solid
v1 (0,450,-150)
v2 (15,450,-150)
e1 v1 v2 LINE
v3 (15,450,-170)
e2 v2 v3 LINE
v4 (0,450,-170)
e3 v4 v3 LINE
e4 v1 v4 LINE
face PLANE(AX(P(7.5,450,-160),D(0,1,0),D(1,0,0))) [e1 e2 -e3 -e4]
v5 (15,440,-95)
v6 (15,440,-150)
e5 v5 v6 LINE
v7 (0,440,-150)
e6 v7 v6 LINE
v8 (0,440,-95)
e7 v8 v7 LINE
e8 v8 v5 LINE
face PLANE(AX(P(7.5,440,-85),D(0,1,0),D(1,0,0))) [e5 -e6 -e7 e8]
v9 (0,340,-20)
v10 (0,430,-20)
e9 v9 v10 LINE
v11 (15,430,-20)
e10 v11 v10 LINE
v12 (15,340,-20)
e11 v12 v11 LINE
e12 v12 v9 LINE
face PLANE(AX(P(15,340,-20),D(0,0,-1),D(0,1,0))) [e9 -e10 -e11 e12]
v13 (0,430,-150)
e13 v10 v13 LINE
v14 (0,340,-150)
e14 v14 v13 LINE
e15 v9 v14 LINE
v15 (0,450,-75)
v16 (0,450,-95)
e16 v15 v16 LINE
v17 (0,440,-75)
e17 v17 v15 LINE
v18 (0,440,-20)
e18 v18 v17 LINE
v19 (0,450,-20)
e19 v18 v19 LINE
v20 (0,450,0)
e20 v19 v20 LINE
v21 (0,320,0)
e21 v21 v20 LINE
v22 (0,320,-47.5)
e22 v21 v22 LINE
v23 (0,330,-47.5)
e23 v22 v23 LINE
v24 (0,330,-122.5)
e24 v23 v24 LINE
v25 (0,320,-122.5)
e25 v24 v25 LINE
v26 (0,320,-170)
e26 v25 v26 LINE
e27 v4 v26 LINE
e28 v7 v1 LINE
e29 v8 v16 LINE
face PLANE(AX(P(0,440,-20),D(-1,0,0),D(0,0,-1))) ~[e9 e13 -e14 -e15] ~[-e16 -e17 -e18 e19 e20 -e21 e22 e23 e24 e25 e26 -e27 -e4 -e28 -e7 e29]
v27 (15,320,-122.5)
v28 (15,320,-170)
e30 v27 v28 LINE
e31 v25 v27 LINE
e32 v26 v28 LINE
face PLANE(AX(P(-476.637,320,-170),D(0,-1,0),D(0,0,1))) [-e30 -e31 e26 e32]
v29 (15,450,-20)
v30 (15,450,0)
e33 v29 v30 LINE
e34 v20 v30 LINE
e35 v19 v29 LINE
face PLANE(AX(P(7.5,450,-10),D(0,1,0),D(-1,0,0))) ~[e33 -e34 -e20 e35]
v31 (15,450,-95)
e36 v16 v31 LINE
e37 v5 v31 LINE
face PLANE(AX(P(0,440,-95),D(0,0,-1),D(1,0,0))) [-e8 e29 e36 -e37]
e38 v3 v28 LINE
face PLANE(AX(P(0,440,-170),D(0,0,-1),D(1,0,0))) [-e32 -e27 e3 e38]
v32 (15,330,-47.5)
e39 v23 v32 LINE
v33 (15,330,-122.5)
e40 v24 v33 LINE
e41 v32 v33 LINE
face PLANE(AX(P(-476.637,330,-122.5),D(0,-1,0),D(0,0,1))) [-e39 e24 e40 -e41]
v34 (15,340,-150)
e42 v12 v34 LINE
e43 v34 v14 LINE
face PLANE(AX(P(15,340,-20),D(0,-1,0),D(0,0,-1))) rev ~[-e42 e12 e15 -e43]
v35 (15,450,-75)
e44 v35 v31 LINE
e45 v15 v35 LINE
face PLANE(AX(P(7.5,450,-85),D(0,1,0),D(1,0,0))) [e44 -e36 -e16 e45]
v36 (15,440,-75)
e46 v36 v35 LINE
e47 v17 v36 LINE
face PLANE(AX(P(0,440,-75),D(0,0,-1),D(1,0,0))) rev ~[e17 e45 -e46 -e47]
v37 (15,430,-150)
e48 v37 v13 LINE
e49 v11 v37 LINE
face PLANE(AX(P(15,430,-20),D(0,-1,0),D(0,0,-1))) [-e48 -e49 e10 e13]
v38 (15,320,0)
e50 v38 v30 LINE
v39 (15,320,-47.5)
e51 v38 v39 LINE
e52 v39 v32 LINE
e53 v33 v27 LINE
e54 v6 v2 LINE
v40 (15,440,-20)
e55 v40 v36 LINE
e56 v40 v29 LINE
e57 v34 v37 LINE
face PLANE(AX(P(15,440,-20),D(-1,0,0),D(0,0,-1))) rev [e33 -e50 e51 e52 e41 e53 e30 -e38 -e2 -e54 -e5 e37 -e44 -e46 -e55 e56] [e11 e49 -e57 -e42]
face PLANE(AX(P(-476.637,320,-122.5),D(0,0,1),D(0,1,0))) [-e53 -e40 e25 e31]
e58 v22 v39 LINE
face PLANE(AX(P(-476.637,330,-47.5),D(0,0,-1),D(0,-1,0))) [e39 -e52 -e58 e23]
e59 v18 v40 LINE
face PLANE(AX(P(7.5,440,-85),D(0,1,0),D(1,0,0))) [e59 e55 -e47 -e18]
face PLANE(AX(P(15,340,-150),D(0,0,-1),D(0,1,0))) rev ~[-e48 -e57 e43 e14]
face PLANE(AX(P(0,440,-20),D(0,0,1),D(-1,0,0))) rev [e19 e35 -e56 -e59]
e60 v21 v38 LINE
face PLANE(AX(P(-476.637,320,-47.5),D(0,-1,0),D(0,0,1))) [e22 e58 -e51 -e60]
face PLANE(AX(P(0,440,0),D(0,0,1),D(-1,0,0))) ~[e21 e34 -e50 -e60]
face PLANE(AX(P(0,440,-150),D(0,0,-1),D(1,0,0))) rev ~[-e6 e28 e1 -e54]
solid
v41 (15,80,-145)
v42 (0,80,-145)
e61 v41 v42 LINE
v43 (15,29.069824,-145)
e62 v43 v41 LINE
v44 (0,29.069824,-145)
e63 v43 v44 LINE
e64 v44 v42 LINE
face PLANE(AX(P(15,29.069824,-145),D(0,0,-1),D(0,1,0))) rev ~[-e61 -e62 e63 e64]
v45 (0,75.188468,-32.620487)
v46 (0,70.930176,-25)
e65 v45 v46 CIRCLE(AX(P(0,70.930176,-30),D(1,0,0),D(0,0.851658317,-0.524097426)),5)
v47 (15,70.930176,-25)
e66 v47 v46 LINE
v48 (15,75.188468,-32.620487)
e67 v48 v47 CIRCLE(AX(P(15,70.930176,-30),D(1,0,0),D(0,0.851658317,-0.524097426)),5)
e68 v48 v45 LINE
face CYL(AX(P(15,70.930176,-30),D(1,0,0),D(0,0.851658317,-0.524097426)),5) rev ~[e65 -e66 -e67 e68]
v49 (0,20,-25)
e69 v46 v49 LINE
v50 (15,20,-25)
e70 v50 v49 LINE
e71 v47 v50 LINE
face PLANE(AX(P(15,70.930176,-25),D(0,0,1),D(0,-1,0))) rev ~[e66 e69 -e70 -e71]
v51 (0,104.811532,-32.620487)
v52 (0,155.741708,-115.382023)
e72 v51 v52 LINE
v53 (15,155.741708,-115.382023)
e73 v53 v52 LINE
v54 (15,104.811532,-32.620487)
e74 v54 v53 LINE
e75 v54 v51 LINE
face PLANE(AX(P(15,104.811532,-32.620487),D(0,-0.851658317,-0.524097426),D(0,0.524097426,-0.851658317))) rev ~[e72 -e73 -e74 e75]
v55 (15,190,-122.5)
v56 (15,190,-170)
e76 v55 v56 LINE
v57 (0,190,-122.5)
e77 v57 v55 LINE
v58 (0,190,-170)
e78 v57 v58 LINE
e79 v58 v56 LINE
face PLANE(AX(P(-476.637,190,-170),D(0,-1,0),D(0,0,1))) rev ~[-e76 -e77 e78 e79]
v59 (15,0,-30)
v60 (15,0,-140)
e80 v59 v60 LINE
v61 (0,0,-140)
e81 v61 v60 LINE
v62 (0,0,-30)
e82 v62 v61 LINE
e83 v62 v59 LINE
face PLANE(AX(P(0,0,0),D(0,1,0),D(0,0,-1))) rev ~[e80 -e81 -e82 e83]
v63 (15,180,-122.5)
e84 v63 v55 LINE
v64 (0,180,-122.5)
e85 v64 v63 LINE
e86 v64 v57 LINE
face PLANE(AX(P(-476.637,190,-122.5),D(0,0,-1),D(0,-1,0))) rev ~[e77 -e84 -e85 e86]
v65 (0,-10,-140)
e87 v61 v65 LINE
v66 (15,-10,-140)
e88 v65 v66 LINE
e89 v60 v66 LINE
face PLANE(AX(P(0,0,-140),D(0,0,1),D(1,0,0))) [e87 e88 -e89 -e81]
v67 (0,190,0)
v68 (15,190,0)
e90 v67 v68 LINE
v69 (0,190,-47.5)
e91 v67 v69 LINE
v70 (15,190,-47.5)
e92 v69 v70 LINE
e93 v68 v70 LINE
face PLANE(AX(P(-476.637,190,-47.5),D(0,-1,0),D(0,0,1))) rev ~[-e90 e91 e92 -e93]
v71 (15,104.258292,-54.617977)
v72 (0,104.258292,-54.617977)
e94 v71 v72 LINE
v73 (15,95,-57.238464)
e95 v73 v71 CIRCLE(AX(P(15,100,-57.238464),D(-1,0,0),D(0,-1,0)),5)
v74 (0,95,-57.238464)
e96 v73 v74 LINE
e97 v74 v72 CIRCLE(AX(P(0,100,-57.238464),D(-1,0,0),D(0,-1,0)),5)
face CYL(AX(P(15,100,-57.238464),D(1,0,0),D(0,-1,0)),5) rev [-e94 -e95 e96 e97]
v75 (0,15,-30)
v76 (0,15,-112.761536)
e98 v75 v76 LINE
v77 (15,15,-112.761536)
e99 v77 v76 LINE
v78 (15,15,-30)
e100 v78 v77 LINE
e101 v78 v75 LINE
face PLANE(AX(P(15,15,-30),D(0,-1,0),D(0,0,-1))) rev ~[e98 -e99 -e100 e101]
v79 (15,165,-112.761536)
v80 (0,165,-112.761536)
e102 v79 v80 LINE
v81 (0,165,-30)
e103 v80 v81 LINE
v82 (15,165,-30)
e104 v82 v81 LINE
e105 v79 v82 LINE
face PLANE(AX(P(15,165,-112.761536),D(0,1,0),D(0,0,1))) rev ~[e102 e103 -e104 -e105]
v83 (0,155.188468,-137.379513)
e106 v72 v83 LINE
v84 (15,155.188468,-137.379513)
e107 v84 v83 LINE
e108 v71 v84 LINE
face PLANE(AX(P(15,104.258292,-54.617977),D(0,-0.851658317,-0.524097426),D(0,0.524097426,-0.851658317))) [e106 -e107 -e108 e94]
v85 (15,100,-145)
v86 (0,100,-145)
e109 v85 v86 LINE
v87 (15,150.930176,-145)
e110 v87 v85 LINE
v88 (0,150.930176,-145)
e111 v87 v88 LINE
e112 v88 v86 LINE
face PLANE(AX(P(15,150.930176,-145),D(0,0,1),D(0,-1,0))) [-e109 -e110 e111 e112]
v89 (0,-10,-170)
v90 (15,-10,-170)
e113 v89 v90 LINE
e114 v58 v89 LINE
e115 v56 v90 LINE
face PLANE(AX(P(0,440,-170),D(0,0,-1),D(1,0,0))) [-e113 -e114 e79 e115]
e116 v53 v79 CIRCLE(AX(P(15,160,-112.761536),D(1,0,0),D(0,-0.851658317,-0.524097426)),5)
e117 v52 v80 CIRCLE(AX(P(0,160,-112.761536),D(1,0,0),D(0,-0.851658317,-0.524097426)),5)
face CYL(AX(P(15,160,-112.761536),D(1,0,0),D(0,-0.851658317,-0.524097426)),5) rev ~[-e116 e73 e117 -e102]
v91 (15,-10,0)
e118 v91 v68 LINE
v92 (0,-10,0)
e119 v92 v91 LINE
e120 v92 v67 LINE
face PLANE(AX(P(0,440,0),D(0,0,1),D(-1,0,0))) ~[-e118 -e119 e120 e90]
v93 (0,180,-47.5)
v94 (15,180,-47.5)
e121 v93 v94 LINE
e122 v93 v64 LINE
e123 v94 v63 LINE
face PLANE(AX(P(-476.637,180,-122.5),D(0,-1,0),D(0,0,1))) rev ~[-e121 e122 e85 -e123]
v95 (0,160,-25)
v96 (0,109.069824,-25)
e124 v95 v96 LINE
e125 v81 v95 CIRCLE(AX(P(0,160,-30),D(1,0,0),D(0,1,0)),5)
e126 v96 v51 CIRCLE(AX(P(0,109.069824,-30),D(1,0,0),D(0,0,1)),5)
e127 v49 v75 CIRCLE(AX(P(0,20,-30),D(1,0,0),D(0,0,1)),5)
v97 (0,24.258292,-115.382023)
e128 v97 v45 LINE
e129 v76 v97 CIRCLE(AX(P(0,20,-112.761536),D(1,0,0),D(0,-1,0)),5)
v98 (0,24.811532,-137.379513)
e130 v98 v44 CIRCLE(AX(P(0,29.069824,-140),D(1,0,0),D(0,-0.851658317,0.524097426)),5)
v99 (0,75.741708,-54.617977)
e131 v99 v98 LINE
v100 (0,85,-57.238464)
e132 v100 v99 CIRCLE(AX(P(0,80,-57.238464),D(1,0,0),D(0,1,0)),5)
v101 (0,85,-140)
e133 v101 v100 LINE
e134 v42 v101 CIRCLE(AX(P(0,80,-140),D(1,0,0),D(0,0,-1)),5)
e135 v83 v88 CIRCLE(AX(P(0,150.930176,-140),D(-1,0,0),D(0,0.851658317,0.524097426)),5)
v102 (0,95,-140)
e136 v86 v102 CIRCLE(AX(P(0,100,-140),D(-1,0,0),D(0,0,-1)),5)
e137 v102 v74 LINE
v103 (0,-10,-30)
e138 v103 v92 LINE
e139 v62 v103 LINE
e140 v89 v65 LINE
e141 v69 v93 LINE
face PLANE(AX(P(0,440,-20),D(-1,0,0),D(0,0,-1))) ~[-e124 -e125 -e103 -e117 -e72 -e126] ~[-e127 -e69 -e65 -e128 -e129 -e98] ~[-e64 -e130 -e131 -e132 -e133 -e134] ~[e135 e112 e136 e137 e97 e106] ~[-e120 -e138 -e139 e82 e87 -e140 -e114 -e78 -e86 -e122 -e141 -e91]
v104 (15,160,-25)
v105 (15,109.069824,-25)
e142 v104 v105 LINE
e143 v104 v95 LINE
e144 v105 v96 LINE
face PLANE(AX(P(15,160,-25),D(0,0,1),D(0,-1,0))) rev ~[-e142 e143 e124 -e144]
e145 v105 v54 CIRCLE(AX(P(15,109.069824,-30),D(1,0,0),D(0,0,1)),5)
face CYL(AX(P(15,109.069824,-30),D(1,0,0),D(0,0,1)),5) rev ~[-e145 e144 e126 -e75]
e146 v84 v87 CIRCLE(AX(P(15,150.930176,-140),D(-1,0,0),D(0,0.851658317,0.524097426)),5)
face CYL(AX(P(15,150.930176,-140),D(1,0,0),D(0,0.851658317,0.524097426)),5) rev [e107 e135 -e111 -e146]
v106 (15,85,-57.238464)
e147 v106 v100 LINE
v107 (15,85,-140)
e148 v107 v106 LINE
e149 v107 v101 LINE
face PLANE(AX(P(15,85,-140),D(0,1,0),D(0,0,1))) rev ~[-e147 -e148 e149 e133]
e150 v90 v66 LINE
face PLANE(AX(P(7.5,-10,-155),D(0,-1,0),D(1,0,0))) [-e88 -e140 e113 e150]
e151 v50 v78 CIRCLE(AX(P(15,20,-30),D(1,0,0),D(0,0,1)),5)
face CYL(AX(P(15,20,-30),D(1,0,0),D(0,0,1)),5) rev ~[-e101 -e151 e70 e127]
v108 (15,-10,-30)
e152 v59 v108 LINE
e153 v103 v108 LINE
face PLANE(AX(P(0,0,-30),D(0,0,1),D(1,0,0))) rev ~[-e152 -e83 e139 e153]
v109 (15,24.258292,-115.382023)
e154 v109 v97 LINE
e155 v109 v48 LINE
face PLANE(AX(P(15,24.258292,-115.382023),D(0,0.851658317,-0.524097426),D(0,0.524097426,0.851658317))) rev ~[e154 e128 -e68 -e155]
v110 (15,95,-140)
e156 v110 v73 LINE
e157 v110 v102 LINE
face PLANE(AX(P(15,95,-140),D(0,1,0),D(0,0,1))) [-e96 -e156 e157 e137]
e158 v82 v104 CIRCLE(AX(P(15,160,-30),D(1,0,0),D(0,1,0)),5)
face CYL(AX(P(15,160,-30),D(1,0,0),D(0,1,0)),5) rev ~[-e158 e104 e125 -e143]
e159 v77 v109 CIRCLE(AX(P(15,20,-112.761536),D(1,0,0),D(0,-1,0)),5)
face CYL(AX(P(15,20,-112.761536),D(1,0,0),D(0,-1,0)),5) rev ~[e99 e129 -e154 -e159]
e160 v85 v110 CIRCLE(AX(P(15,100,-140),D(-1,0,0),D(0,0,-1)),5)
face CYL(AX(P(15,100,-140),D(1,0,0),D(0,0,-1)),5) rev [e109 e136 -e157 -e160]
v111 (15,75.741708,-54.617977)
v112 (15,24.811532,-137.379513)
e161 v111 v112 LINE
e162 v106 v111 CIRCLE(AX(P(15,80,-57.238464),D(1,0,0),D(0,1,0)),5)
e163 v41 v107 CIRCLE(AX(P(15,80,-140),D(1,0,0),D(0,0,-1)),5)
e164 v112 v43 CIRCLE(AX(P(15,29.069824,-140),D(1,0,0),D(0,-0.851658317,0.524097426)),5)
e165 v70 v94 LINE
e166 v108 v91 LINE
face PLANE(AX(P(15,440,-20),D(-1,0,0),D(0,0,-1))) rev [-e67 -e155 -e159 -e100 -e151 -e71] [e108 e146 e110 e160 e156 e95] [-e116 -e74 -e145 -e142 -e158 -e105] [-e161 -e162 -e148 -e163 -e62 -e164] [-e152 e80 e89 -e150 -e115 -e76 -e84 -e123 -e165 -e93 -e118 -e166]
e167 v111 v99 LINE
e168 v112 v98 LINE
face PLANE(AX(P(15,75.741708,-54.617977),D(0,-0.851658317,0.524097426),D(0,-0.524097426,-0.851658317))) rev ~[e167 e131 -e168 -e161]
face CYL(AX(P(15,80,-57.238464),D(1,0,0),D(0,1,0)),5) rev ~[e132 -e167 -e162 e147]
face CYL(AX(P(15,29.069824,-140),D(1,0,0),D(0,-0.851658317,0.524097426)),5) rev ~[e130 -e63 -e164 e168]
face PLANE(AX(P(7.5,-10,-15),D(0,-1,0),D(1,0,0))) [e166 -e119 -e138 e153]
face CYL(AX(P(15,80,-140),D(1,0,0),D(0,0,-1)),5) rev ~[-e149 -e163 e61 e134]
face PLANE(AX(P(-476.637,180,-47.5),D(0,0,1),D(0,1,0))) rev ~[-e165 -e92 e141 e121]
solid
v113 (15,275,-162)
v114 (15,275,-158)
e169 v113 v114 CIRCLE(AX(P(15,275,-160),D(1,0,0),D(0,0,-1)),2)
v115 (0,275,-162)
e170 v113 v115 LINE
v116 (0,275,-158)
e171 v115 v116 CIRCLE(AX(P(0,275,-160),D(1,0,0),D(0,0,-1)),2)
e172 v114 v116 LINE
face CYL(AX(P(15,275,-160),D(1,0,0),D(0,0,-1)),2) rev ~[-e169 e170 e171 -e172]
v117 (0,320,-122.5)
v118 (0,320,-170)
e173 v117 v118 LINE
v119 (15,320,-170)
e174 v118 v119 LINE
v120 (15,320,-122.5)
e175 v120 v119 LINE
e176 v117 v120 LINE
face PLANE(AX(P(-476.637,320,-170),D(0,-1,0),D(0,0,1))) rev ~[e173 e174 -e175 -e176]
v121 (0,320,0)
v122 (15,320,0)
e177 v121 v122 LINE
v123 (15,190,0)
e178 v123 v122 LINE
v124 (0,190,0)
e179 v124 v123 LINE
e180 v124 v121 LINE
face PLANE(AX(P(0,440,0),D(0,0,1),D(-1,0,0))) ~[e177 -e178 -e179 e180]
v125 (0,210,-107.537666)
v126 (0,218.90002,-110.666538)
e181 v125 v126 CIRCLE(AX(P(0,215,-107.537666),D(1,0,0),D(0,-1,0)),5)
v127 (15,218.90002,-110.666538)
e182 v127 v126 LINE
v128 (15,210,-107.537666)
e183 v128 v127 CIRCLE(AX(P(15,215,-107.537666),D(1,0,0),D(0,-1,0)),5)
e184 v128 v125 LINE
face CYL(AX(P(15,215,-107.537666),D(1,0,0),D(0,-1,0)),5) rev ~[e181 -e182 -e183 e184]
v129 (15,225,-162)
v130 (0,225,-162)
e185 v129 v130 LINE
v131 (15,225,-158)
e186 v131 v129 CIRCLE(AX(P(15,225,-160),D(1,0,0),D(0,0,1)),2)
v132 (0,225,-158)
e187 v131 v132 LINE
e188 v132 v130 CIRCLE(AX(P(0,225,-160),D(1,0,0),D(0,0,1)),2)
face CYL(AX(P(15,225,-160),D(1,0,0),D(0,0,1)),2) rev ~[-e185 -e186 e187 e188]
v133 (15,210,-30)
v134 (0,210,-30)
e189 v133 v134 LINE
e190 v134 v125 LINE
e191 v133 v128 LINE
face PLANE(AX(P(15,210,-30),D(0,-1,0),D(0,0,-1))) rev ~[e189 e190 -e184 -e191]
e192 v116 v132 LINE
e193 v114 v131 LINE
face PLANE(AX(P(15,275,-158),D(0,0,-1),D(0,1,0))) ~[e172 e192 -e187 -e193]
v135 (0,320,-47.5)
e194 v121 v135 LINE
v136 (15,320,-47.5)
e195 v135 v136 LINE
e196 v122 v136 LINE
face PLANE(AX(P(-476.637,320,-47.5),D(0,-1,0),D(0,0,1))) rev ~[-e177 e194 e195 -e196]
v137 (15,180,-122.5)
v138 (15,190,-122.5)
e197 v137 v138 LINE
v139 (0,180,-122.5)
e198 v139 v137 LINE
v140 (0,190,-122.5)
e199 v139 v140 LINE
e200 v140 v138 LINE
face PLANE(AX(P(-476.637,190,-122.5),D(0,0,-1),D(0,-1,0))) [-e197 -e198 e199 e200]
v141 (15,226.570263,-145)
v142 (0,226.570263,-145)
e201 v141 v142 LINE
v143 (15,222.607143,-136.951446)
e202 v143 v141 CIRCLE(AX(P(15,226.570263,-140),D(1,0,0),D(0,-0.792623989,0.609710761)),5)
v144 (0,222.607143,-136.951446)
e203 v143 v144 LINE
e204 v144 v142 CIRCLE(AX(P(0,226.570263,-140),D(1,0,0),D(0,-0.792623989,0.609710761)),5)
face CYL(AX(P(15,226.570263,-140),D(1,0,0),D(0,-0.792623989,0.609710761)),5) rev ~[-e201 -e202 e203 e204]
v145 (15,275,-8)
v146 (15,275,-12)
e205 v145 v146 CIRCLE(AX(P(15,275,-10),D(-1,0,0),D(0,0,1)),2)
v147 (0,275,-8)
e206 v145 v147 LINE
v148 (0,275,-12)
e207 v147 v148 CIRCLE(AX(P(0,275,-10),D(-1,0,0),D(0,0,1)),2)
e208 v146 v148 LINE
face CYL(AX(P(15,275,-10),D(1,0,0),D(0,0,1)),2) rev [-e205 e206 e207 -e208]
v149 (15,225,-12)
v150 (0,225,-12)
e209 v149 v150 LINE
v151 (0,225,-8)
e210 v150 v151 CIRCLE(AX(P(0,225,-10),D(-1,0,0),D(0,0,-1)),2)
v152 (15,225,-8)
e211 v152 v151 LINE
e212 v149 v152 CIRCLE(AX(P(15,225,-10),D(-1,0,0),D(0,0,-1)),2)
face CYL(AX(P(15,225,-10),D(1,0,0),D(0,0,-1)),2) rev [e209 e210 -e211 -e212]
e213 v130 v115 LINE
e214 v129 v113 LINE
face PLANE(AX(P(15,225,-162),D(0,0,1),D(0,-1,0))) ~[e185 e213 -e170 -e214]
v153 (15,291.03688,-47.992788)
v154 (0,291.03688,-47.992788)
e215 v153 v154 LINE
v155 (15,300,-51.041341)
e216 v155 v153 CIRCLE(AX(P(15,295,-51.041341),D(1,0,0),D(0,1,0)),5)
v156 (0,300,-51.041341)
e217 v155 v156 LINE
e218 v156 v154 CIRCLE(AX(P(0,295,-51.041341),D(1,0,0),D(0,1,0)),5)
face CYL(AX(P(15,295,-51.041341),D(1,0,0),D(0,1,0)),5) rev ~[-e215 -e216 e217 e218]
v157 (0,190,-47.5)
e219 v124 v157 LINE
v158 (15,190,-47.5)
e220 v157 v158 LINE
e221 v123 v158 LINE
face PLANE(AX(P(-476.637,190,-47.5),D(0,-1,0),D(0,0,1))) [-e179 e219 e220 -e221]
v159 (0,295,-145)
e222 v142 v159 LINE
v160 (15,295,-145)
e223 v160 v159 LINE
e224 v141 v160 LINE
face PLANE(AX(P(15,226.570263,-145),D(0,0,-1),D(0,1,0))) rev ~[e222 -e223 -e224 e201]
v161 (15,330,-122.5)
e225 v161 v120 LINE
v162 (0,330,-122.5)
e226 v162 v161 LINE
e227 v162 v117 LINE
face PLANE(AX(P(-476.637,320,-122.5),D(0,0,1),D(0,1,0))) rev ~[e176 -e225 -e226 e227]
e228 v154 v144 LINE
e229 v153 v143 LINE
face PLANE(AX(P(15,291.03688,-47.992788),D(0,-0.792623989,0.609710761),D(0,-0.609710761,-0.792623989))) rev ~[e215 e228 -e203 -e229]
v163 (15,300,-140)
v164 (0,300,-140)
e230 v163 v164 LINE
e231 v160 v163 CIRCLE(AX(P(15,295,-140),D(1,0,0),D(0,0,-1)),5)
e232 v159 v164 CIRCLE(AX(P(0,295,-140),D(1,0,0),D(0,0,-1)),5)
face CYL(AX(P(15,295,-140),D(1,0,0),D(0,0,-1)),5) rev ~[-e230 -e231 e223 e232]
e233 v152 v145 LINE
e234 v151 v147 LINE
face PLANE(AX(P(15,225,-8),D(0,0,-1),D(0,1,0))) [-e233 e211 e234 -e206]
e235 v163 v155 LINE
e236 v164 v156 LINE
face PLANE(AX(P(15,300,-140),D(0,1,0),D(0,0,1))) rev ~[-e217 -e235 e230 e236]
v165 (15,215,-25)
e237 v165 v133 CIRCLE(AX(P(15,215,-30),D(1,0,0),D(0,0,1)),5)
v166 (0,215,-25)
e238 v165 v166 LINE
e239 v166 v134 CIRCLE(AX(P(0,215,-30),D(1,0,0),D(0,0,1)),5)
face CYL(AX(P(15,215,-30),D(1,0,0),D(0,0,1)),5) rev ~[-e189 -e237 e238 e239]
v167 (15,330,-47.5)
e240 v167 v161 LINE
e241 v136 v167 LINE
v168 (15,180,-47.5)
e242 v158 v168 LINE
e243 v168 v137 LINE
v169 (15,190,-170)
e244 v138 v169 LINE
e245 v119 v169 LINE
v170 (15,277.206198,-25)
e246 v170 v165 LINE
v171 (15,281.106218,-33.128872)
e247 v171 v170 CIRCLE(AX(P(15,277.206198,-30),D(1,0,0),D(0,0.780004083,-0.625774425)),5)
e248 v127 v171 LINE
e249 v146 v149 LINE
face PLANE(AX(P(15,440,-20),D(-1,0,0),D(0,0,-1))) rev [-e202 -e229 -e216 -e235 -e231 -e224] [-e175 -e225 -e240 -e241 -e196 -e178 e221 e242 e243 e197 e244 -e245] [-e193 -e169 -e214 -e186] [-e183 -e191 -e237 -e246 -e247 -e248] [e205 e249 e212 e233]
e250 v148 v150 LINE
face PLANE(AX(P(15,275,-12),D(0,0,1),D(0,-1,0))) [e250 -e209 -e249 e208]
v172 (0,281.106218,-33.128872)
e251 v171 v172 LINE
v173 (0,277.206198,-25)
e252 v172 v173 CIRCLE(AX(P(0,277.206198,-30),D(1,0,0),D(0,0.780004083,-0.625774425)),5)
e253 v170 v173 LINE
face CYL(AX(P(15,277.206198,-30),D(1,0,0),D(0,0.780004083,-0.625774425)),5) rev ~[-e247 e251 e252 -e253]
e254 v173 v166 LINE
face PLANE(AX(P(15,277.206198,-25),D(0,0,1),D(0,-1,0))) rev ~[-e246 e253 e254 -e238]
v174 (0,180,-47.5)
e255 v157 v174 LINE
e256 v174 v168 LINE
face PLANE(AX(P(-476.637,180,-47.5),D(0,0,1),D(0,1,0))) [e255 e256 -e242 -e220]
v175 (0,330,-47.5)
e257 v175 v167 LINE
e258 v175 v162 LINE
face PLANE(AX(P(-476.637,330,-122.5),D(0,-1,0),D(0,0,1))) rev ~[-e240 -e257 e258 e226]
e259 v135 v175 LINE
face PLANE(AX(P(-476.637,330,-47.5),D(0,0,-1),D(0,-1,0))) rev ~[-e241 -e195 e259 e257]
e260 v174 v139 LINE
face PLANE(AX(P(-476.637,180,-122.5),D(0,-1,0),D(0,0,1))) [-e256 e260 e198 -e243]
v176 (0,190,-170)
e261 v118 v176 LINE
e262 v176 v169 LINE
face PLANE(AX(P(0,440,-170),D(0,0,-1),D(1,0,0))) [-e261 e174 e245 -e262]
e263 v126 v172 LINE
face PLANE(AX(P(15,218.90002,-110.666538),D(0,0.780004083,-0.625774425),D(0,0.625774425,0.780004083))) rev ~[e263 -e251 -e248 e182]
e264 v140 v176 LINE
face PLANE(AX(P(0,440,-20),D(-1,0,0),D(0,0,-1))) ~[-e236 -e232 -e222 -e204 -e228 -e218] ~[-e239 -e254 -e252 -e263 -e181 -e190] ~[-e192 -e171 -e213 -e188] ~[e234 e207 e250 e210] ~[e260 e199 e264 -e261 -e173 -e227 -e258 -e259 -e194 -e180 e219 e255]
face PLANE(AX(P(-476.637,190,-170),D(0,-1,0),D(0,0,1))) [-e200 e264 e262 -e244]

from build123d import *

# Parameters (mm, degrees)
SKETCH1_W                = 170
SKETCH1_H                = 410
BOSS_EXTRUDE1_DEPTH      = 15
SKETCH11_W               = 15
SKETCH11_H               = 30
BOSS_EXTRUDE8_DEPTH      = 10
SKETCH14_W               = 15
SKETCH14_H               = 170
BOSS_EXTRUDE9_DEPTH      = 30
SKETCH15_W               = 15
SKETCH15_H               = 20
BOSS_EXTRUDE10_DEPTH     = 10
SKETCH16_W               = 15
SKETCH16_H               = 20
BOSS_EXTRUDE11_DEPTH     = 10
CUT_EXTRUDE1_DEPTH       = 15
SKETCH25_W               = 130
SKETCH25_H               = 90
CUT_EXTRUDE3_DEPTH       = 15
CUT_EXTRUDE4_DEPTH       = 15
CUT_EXTRUDE5_DEPTH       = 15
SPLIT2_SURFACE_1_1_BACK  = 491.637
SPLIT2_SURFACE_1_1_DEPTH = 983.274
SPLIT2_SURFACE_1_2_BACK  = 491.637
SPLIT2_SURFACE_1_2_DEPTH = 983.274
SPLIT2_SURFACE_2_3_BACK  = 491.637
SPLIT2_SURFACE_2_3_DEPTH = 983.274
SPLIT2_SURFACE_2_4_BACK  = 491.637
SPLIT2_SURFACE_2_4_DEPTH = 983.274


with BuildPart() as part:
    # Sketch1 → Boss-Extrude1 (new body)
    with BuildSketch(Plane(origin=(0, 0, 0), x_dir=(0, 0, -1), z_dir=(1, 0, 0))):
        with Locations((85, 205)):
            Rectangle(SKETCH1_W, SKETCH1_H)
    extrude(amount=BOSS_EXTRUDE1_DEPTH)

    # Sketch11 → Boss-Extrude8 (add)
    with BuildSketch(Plane.XZ):
        with Locations((7.5, -15)):
            Rectangle(SKETCH11_W, SKETCH11_H)
        with Locations((7.5, -155)):
            Rectangle(SKETCH11_W, SKETCH11_H)
    extrude(amount=BOSS_EXTRUDE8_DEPTH)

    # Sketch14 → Boss-Extrude9 (add)
    with BuildSketch(Plane(origin=(0, 410, 0), x_dir=(1, 0, 0), z_dir=(0, 1, 0))):
        with Locations((7.5, 85)):
            Rectangle(SKETCH14_W, SKETCH14_H)
    extrude(amount=BOSS_EXTRUDE9_DEPTH)

    # Sketch15 → Boss-Extrude10 (add)
    with BuildSketch(Plane(origin=(0, 440, 0), x_dir=(1, 0, 0), z_dir=(0, 1, 0))):
        with Locations((7.5, 160)):
            Rectangle(SKETCH15_W, SKETCH15_H)
    boss_extrude10 = extrude(amount=BOSS_EXTRUDE10_DEPTH)

    # Mirror1: Boss-Extrude10 across plane
    add(boss_extrude10.mirror(Plane.XY.offset(-85)))

    # Sketch16 → Boss-Extrude11 (add)
    with BuildSketch(Plane(origin=(0, 440, 0), x_dir=(1, 0, 0), z_dir=(0, 1, 0))):
        with Locations((7.5, 85)):
            Rectangle(SKETCH16_W, SKETCH16_H)
    extrude(amount=BOSS_EXTRUDE11_DEPTH)

    # Sketch21 → Cut-Extrude1 (cut)
    with BuildSketch(Plane(origin=(15, 0, 0), x_dir=(0, 0, -1), z_dir=(1, 0, 0))):
        with BuildLine():
            Line((12, 275), (12, 225))
            ThreePointArc((12, 225), (10, 223), (8, 225))
            Line((8, 225), (8, 275))
            ThreePointArc((8, 275), (10, 277), (12, 275))
        make_face()
    cut_extrude1 = extrude(amount=-CUT_EXTRUDE1_DEPTH, mode=Mode.SUBTRACT)

    # Mirror3: Cut-Extrude1 across plane
    add(cut_extrude1.mirror(Plane.XY.offset(-85)), mode=Mode.SUBTRACT)

    # Sketch25 → Cut-Extrude3 (cut)
    with BuildSketch(Plane(origin=(15, 0, 0), x_dir=(0, 0, -1), z_dir=(1, 0, 0))):
        with Locations((85, 385)):
            Rectangle(SKETCH25_W, SKETCH25_H)
    extrude(amount=-CUT_EXTRUDE3_DEPTH, mode=Mode.SUBTRACT)

    # Sketch26 → Cut-Extrude4 (cut)
    with BuildSketch(Plane(origin=(15, 0, 0), x_dir=(0, 0, -1), z_dir=(1, 0, 0))):
        with BuildLine():
            Line((25, 70.930175943), (25, 20))
            ThreePointArc((25, 20), (26.464466094, 16.464466094), (30, 15))
            Line((30, 15), (112.761535907, 15))
            ThreePointArc((112.761535907, 15), (117.572536734, 18.638283788), (115.382023035, 24.258291584))
            Line((115.382023035, 24.258291584), (32.620487128, 75.188467526))
            ThreePointArc((32.620487128, 75.188467526), (27.560987458, 75.294946019), (25, 70.930175943))
        make_face()
        with BuildLine():
            Line((54.617976965, 75.741708416), (137.379512872, 24.811532474))
            ThreePointArc((137.379512872, 24.811532474), (142.439012542, 24.705053981), (145, 29.069824057))
            Line((145, 29.069824057), (145, 80))
            ThreePointArc((145, 80), (143.535533906, 83.535533906), (140, 85))
            Line((140, 85), (57.238464093, 85))
            ThreePointArc((57.238464093, 85), (52.427463266, 81.361716212), (54.617976965, 75.741708416))
        make_face()
        with BuildLine():
            Line((54.617976965, 104.258291584), (137.379512872, 155.188467526))
            ThreePointArc((137.379512872, 155.188467526), (142.439012542, 155.294946019), (145, 150.930175943))
            Line((145, 150.930175943), (145, 100))
            ThreePointArc((145, 100), (143.535533906, 96.464466094), (140, 95))
            Line((140, 95), (57.238464093, 95))
            ThreePointArc((57.238464093, 95), (52.427463266, 98.638283788), (54.617976965, 104.258291584))
        make_face()
        with BuildLine():
            Line((25, 160), (25, 109.069824057))
            ThreePointArc((25, 109.069824057), (27.560987458, 104.705053981), (32.620487128, 104.811532474))
            Line((32.620487128, 104.811532474), (115.382023035, 155.741708416))
            ThreePointArc((115.382023035, 155.741708416), (117.572536734, 161.361716212), (112.761535907, 165))
            Line((112.761535907, 165), (30, 165))
            ThreePointArc((30, 165), (26.464466094, 163.535533906), (25, 160))
        make_face()
    extrude(amount=-CUT_EXTRUDE4_DEPTH, mode=Mode.SUBTRACT)

    # Sketch24 → Cut-Extrude5 (cut)
    with BuildSketch(Plane(origin=(15, 0, 0), x_dir=(0, 0, -1), z_dir=(1, 0, 0))):
        with BuildLine():
            Line((47.992787609, 291.036880054), (136.951446196, 222.60714268))
            ThreePointArc((136.951446196, 222.60714268), (142.208758812, 222.084575999), (145, 226.570262626))
            Line((145, 226.570262626), (145, 295))
            ThreePointArc((145, 295), (143.535533906, 298.535533906), (140, 300))
            Line((140, 300), (51.041341414, 300))
            ThreePointArc((51.041341414, 300), (46.307653648, 296.610031098), (47.992787609, 291.036880054))
        make_face()
        with BuildLine():
            Line((25, 277.20619806), (25, 215))
            ThreePointArc((25, 215), (26.464466094, 211.464466094), (30, 210))
            Line((30, 210), (107.537666209, 210))
            ThreePointArc((107.537666209, 210), (112.254662185, 213.341702993), (110.666538333, 218.900020414))
            Line((110.666538333, 218.900020414), (33.128872124, 281.106218474))
            ThreePointArc((33.128872124, 281.106218474), (27.837173218, 281.71421096), (25, 277.20619806))
        make_face()
    extrude(amount=-CUT_EXTRUDE5_DEPTH, mode=Mode.SUBTRACT)


with BuildPart() as body_2:
    # Split2: the piece behind the surface
    add(part.part)
    # Split2 surface 1: a surface, the sketch's curves swept straight by 983.274 mm
    with BuildLine(Plane(origin=(15, 0, 0), x_dir=(0, 0, -1), z_dir=(1, 0, 0)).offset(-SPLIT2_SURFACE_1_1_BACK), mode=Mode.PRIVATE) as split2_surface_1_1_path:
        Line((170, 320), (122.5, 320))
        Line((122.5, 320), (122.5, 330))
        Line((122.5, 330), (47.5, 330))
        Line((47.5, 330), (47.5, 320))
        Line((47.5, 320), (0, 320))
    split2_surface_1_1 = Shell.extrude(split2_surface_1_1_path.wire(), (1 * SPLIT2_SURFACE_1_1_DEPTH, 0 * SPLIT2_SURFACE_1_1_DEPTH, 0 * SPLIT2_SURFACE_1_1_DEPTH))
    split(bisect_by=split2_surface_1_1, keep=Keep.BOTTOM)


with BuildPart() as part_1:
    add(part.part)

    # Split2: split by a surface, the side it looks to stays
    # Split2 surface 1: a surface, the sketch's curves swept straight by 983.274 mm
    with BuildLine(Plane(origin=(15, 0, 0), x_dir=(0, 0, -1), z_dir=(1, 0, 0)).offset(-SPLIT2_SURFACE_1_2_BACK), mode=Mode.PRIVATE) as split2_surface_1_2_path:
        Line((170, 320), (122.5, 320))
        Line((122.5, 320), (122.5, 330))
        Line((122.5, 330), (47.5, 330))
        Line((47.5, 330), (47.5, 320))
        Line((47.5, 320), (0, 320))
    split2_surface_1_2 = Shell.extrude(split2_surface_1_2_path.wire(), (1 * SPLIT2_SURFACE_1_2_DEPTH, 0 * SPLIT2_SURFACE_1_2_DEPTH, 0 * SPLIT2_SURFACE_1_2_DEPTH))
    split(bisect_by=split2_surface_1_2, keep=Keep.TOP)


with BuildPart() as body_3:
    # Split2 2: the piece behind the surface
    add(part_1.part)
    # Split2 surface 2: a surface, the sketch's curves swept straight by 983.274 mm
    with BuildLine(Plane(origin=(15, 0, 0), x_dir=(0, 0, -1), z_dir=(1, 0, 0)).offset(-SPLIT2_SURFACE_2_3_BACK), mode=Mode.PRIVATE) as split2_surface_2_3_path:
        Line((170, 190), (122.5, 190))
        Line((122.5, 190), (122.5, 180))
        Line((122.5, 180), (47.5, 180))
        Line((47.5, 180), (47.5, 190))
        Line((47.5, 190), (0, 190))
    split2_surface_2_3 = Shell.extrude(split2_surface_2_3_path.wire(), (1 * SPLIT2_SURFACE_2_3_DEPTH, 0 * SPLIT2_SURFACE_2_3_DEPTH, 0 * SPLIT2_SURFACE_2_3_DEPTH))
    split(bisect_by=split2_surface_2_3, keep=Keep.BOTTOM)


with BuildPart() as part_2:
    add(part_1.part)

    # Split2 2: split by a surface, the side it looks to stays
    # Split2 surface 2: a surface, the sketch's curves swept straight by 983.274 mm
    with BuildLine(Plane(origin=(15, 0, 0), x_dir=(0, 0, -1), z_dir=(1, 0, 0)).offset(-SPLIT2_SURFACE_2_4_BACK), mode=Mode.PRIVATE) as split2_surface_2_4_path:
        Line((170, 190), (122.5, 190))
        Line((122.5, 190), (122.5, 180))
        Line((122.5, 180), (47.5, 180))
        Line((47.5, 180), (47.5, 190))
        Line((47.5, 190), (0, 190))
    split2_surface_2_4 = Shell.extrude(split2_surface_2_4_path.wire(), (1 * SPLIT2_SURFACE_2_4_DEPTH, 0 * SPLIT2_SURFACE_2_4_DEPTH, 0 * SPLIT2_SURFACE_2_4_DEPTH))
    split(bisect_by=split2_surface_2_4, keep=Keep.TOP)


solid = Compound([body_2.part, body_3.part, part_2.part])
